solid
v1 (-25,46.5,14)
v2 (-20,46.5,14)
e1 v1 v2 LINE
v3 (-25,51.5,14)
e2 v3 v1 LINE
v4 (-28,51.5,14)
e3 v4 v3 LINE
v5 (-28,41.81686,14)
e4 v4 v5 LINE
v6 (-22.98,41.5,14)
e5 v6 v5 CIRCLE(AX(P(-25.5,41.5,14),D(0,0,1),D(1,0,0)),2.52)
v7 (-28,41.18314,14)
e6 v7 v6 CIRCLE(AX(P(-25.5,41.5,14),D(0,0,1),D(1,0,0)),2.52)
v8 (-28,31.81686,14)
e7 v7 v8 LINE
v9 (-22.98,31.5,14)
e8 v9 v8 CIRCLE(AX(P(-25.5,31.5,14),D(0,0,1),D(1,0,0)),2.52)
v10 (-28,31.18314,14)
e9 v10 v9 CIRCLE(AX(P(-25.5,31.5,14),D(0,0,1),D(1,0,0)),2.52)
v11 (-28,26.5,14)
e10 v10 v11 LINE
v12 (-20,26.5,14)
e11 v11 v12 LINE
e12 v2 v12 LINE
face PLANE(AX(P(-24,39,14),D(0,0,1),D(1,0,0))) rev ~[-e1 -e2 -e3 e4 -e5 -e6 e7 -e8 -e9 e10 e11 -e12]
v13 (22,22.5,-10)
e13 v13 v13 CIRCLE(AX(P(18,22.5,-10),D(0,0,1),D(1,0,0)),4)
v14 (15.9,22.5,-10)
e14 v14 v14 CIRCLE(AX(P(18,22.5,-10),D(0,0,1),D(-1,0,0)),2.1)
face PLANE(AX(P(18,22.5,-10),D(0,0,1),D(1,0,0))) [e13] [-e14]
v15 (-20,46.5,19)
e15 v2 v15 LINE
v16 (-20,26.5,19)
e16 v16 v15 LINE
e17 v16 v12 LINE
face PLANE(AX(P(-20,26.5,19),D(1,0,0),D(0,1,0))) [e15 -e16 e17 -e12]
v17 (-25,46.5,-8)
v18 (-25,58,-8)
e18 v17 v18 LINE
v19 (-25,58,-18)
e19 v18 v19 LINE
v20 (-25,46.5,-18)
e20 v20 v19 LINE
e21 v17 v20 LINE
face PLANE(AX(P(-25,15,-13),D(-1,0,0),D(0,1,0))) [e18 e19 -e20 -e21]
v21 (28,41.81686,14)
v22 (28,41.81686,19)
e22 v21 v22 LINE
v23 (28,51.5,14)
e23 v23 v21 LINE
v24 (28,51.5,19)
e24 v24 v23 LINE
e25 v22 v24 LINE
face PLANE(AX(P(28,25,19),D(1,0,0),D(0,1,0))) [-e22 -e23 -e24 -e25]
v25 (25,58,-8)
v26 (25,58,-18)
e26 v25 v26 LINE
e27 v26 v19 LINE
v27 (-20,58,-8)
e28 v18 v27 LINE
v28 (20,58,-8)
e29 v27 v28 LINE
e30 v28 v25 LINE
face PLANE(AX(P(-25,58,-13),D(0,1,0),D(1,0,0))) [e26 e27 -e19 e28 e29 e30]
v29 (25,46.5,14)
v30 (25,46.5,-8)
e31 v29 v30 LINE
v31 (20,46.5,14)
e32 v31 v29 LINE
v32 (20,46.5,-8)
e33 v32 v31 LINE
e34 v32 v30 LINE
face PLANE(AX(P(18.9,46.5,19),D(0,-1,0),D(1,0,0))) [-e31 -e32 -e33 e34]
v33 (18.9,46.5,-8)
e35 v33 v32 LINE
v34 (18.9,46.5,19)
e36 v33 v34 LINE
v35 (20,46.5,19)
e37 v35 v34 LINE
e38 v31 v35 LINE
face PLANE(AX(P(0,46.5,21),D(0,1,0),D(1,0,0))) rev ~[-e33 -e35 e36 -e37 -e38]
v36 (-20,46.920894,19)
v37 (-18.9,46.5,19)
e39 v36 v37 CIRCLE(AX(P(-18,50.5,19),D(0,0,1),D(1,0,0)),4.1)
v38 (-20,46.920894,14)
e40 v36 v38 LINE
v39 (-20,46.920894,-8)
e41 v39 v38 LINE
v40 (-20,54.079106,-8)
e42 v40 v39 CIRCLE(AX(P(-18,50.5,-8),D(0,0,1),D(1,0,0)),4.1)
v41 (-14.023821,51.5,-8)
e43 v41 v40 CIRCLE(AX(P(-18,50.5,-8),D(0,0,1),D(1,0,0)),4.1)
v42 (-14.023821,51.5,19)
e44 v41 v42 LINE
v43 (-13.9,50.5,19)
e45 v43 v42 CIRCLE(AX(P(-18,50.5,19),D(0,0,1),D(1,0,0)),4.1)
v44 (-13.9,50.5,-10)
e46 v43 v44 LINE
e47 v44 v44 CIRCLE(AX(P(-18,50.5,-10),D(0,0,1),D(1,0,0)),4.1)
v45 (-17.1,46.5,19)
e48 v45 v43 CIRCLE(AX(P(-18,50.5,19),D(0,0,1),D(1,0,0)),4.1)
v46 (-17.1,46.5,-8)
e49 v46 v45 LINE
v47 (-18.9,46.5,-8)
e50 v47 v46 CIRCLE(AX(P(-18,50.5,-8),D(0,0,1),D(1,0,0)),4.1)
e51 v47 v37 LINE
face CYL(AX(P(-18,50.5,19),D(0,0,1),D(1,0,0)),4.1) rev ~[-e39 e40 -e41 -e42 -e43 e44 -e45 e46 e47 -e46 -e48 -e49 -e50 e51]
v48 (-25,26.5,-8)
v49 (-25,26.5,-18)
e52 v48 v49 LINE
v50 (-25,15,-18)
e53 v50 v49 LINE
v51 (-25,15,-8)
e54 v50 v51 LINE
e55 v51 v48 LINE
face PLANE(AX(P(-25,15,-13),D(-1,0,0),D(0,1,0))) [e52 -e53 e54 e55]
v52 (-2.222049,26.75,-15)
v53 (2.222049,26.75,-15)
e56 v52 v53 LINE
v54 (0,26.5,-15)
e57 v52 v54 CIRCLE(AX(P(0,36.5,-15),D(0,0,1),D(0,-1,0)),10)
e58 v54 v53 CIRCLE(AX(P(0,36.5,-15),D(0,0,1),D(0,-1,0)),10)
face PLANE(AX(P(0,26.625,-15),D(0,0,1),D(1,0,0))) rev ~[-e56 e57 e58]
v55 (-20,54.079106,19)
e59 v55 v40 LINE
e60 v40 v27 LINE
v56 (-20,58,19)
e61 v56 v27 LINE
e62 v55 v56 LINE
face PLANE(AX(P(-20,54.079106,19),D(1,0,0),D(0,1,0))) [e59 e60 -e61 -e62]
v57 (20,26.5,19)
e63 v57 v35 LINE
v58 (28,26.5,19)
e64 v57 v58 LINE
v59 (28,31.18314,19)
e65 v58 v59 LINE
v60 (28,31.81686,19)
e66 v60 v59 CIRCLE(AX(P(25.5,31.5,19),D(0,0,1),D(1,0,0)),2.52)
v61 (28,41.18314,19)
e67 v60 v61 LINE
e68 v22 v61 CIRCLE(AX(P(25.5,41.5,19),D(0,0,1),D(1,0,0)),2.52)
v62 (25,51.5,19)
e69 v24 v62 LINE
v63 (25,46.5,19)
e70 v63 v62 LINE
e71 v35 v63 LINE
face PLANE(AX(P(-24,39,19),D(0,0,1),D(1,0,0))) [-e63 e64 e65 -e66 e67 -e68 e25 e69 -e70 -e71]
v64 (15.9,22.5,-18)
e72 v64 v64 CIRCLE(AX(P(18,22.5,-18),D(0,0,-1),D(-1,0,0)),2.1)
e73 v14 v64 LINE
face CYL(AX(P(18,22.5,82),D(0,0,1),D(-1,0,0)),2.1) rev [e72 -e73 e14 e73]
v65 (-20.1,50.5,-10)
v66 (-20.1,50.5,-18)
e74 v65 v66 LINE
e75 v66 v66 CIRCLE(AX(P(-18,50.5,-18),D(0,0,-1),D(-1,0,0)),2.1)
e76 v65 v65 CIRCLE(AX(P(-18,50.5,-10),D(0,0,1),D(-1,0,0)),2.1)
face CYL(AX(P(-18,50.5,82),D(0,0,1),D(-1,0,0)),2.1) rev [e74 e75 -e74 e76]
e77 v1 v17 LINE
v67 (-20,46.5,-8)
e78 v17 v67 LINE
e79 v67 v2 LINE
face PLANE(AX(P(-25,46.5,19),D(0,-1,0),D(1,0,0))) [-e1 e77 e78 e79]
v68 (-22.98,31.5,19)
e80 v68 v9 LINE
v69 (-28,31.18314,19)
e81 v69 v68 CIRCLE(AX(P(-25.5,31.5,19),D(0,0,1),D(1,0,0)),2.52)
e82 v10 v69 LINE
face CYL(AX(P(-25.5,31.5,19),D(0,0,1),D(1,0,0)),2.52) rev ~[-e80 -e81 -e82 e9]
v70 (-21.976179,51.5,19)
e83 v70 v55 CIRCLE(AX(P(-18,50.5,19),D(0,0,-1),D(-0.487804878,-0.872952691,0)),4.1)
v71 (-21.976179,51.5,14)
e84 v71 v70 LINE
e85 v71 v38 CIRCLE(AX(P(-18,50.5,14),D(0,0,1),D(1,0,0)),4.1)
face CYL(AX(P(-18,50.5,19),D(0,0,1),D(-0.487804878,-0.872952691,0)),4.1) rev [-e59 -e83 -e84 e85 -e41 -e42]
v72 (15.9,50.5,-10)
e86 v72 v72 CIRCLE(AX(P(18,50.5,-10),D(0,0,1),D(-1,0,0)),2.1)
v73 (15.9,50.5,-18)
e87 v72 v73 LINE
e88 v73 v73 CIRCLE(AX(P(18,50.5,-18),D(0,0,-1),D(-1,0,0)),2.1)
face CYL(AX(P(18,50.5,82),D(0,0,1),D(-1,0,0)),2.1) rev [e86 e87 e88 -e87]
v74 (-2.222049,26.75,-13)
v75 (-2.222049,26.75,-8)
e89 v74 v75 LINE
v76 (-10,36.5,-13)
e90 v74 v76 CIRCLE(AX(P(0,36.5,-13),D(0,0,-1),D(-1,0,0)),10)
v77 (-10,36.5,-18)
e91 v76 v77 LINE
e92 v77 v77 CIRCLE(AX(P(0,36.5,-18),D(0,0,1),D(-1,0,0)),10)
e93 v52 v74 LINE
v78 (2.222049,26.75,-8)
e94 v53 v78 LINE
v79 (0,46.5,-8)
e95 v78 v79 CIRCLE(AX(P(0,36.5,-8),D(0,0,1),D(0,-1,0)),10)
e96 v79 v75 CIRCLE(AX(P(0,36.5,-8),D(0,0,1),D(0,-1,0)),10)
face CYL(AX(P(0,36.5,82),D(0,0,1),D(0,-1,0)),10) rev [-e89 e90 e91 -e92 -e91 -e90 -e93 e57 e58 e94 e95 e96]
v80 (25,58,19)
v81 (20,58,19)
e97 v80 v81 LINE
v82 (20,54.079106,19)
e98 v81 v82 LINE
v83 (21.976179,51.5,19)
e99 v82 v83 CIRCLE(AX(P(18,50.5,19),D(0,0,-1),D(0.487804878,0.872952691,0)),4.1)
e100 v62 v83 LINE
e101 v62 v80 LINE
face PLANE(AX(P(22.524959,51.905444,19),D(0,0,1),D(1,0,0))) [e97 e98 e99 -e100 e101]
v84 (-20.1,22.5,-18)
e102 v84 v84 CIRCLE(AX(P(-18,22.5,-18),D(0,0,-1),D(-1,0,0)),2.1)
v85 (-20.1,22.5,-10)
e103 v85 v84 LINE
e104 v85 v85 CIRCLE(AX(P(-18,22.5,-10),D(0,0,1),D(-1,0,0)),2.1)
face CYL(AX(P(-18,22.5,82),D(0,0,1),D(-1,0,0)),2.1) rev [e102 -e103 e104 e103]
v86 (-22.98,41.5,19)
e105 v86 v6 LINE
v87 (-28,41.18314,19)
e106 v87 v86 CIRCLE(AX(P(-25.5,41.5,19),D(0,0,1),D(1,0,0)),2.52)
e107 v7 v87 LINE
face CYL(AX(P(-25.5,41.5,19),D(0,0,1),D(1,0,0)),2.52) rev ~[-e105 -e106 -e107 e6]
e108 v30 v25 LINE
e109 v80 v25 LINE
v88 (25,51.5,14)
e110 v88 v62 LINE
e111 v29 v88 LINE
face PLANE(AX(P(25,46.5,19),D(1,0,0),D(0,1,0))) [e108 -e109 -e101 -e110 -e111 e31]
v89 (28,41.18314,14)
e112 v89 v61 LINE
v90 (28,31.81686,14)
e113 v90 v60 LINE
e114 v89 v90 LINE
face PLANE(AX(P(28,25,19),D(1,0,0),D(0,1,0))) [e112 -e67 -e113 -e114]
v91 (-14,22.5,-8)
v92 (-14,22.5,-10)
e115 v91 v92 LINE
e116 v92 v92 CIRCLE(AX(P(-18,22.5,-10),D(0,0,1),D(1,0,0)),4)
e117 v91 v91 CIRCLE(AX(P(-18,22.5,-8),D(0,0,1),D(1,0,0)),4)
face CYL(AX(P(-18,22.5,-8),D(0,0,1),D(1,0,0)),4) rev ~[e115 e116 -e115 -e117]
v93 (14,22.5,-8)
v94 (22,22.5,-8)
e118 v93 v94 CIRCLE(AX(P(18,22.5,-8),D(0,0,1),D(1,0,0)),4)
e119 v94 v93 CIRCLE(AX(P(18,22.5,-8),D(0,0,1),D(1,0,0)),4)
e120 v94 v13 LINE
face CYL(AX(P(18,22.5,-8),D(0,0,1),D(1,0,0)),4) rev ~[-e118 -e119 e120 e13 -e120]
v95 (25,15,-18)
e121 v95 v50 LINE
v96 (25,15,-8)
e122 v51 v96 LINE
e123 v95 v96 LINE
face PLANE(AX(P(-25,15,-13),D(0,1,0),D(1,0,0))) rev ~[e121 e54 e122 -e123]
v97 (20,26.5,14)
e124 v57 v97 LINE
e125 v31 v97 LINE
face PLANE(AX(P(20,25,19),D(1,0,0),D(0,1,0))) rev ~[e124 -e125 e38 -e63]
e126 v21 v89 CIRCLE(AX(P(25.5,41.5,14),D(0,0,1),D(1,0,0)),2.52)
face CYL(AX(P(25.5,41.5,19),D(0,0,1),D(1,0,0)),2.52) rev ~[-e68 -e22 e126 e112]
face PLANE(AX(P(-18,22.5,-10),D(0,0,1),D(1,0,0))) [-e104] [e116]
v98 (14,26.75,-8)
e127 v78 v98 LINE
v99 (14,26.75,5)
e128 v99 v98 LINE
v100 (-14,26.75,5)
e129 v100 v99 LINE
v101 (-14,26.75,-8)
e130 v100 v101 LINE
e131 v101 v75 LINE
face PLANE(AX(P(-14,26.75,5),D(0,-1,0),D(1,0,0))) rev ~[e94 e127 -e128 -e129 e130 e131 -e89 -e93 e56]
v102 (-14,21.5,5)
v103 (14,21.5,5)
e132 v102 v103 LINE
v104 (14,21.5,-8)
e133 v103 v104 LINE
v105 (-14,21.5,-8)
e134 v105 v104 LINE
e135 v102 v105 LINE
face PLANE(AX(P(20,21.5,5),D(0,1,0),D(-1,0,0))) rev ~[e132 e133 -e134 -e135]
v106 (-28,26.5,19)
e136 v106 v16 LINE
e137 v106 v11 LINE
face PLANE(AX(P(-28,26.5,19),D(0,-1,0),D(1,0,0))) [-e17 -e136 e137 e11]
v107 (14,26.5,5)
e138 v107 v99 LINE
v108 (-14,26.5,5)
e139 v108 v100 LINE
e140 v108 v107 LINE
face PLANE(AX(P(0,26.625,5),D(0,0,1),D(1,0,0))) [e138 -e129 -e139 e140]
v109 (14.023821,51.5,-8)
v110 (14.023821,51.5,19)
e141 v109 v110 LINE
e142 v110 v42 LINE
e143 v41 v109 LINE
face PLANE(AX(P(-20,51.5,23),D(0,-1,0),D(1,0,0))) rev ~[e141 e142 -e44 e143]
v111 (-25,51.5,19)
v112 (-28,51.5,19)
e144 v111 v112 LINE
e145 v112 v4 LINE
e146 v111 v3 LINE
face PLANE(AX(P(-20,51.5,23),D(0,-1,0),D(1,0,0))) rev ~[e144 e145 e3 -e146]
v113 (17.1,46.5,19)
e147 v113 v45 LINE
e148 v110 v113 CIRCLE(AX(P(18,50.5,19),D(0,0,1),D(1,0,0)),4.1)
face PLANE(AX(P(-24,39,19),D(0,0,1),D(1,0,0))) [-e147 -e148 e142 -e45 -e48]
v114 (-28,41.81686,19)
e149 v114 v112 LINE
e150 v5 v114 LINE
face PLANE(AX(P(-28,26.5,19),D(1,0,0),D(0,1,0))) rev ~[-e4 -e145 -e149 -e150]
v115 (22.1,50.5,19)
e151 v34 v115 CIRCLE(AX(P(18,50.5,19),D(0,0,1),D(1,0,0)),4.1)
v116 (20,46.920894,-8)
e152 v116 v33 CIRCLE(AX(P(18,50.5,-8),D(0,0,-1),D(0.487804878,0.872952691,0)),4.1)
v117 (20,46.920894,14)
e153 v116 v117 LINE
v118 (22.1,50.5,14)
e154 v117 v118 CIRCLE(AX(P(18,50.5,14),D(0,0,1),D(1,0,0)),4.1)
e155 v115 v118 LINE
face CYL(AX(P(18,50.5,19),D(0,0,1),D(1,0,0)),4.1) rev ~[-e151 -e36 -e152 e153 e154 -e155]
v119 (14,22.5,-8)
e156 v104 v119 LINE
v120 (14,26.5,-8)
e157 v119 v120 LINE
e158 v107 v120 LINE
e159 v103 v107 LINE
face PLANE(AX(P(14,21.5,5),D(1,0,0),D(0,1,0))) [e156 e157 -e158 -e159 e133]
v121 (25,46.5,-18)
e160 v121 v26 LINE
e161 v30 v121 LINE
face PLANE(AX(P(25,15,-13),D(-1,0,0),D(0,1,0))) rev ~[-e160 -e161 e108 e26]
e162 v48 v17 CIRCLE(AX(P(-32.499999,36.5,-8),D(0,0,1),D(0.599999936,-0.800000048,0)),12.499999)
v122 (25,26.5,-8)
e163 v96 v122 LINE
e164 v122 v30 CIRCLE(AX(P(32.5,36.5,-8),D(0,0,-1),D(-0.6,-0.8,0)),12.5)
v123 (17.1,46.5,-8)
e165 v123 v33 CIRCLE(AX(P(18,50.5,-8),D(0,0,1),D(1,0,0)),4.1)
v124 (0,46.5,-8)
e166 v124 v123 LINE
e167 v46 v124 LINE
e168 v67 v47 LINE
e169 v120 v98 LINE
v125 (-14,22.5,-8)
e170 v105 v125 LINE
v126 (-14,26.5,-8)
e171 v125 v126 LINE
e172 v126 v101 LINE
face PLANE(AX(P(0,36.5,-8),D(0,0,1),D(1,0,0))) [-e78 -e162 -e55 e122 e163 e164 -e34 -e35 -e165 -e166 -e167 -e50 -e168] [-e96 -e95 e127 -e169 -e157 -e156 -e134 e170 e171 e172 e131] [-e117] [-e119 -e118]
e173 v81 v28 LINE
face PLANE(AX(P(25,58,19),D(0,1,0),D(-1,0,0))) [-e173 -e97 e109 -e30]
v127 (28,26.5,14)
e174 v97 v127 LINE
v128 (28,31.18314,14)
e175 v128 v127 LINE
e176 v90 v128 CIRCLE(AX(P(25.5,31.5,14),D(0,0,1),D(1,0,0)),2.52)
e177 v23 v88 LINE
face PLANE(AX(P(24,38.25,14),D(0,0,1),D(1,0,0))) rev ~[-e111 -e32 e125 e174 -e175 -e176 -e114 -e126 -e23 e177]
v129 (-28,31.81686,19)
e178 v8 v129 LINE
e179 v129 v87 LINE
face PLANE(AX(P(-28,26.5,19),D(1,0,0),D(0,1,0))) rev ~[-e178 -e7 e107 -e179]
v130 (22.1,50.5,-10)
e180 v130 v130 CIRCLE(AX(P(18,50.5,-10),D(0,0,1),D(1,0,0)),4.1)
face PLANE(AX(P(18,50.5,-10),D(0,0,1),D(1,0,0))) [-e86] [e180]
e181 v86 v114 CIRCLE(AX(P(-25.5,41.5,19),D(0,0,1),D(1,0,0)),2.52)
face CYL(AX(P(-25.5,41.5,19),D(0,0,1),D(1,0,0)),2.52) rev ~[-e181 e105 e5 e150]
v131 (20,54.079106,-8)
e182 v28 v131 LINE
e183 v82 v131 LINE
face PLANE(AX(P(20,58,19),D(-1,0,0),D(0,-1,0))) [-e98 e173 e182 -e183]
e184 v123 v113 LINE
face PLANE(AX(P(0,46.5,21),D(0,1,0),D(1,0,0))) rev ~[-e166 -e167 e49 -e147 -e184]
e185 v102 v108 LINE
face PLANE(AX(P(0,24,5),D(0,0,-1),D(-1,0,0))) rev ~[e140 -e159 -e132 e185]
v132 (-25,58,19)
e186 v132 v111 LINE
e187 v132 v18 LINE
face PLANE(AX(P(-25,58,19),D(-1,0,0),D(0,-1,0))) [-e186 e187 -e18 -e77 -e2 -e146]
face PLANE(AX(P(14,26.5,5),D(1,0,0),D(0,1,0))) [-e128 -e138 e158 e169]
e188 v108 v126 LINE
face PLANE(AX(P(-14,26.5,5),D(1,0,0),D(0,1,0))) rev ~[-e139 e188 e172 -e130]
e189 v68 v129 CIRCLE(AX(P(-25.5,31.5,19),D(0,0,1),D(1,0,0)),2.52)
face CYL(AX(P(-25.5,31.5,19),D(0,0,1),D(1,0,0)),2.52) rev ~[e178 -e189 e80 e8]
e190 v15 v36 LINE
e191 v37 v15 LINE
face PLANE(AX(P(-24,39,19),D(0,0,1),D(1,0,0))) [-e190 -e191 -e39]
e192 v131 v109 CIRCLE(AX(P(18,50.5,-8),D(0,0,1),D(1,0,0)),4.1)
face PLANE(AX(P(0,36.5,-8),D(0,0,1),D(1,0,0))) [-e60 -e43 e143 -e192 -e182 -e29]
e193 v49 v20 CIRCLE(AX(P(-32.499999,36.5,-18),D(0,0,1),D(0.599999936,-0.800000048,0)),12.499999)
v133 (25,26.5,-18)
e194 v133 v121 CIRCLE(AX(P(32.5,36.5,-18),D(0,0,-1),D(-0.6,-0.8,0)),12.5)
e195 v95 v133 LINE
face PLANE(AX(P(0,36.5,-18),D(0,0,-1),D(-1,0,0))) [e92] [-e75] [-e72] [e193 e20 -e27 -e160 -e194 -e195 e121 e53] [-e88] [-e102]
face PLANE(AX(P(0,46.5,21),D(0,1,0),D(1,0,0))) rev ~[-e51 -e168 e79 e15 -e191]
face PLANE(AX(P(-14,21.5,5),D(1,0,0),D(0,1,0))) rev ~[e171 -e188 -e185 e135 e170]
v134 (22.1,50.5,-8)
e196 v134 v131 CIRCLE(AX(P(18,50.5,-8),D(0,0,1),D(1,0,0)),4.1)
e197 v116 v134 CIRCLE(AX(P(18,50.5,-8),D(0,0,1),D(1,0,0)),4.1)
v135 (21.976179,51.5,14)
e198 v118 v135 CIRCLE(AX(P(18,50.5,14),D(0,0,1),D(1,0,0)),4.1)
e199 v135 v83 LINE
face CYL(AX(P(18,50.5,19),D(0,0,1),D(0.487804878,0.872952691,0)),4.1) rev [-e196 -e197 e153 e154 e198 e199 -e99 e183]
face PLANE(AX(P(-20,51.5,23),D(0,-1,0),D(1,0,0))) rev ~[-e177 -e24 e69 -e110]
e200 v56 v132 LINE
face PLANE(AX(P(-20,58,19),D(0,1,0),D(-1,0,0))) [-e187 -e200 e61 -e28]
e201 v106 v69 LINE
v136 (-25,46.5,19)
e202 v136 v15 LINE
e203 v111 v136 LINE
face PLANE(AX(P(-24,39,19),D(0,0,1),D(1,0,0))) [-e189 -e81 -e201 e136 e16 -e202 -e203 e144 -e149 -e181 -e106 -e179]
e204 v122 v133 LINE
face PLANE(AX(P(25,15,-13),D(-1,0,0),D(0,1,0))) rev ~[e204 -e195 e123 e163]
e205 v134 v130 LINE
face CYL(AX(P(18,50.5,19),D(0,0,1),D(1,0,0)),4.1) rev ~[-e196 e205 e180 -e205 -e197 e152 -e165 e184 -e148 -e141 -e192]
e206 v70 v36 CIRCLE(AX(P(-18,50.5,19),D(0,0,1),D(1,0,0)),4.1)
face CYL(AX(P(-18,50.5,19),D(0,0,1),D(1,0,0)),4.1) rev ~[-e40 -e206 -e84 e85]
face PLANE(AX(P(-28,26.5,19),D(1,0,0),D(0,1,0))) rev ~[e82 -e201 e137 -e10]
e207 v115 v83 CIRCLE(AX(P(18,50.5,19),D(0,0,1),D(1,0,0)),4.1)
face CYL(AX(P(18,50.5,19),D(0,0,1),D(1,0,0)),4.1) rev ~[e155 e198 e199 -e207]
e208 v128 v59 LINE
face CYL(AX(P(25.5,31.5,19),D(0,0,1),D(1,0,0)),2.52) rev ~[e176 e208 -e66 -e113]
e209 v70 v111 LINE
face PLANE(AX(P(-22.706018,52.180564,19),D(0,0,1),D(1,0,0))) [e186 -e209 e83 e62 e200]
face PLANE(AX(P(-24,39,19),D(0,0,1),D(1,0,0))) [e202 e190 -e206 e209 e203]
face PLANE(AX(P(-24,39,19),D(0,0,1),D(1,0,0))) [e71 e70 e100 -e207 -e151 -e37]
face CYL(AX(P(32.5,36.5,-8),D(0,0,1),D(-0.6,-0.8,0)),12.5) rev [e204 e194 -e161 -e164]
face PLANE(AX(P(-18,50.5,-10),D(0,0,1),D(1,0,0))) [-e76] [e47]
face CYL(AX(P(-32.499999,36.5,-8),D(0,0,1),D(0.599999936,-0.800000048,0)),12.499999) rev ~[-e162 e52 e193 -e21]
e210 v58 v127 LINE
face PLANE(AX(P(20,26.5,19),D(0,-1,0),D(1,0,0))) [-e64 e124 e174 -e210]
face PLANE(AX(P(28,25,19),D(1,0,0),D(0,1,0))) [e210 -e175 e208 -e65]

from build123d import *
from build123d.topology import SkipClean

# Parameters (mm, degrees)
SKETCH_1_R           = 2
EXTRUDE_1_DEPTH      = 5
EXTRUDE_5_DEPTH      = 18
SKETCH_6_W           = 40
SKETCH_6_H           = 5
EXTRUDE_6_DEPTH      = 25
SKETCH_7_W           = 40
SKETCH_7_H           = 5
EXTRUDE_7_DEPTH      = 27
SKETCH_9_R           = 10
CUT_EXTRUDE_4_DEPTH  = 50
SKETCH_10_W          = 8
SKETCH_10_H          = 5
EXTRUDE_9_DEPTH      = 20
CUT_EXTRUDE_8_DEPTH  = 20
CUT_EXTRUDE_9_DEPTH  = 20
SKETCH_16_W          = 40
SKETCH_16_H          = 4
EXTRUDE_10_DEPTH     = 5
SKETCH_17_W          = 40
SKETCH_17_H          = 4
EXTRUDE_12_DEPTH     = 12
SKETCH_18_R          = 1.5
CUT_EXTRUDE_10_DEPTH = 10
CUT_EXTRUDE_11_DEPTH = 10
SKETCH_22_W          = 39.912411086
SKETCH_22_H          = 12
CUT_EXTRUDE_12_DEPTH = 10
SKETCH_23_W          = 1.771441315
SKETCH_23_H          = 1.605869394
CUT_EXTRUDE_13_DEPTH = 10
SKETCH_24_W          = 40
SKETCH_24_H          = 4
EXTRUDE_13_DEPTH     = 7
SKETCH_26_R          = 1.5
CUT_EXTRUDE_14_DEPTH = 7
SKETCH_27_W          = 8
SKETCH_27_H          = 26.5
EXTRUDE_14_DEPTH     = 5
SKETCH_28_W          = 8
SKETCH_28_H          = 25
EXTRUDE_15_DEPTH     = 5
SKETCH_30_W          = 8
SKETCH_30_H          = 1.5
CUT_EXTRUDE_15_DEPTH = 5
SKETCH_31_R          = 2.52
CUT_EXTRUDE_16_DEPTH = 5
SKETCH_32_R          = 2.52
CUT_EXTRUDE_17_DEPTH = 5
CUT_EXTRUDE_18_DEPTH = 5
SKETCH_2_R           = 4
CUT_EXTRUDE_19_DEPTH = 3
SKETCH_35_W          = 4
SKETCH_35_H          = 12
CUT_EXTRUDE_20_DEPTH = 100
SKETCH_37_W          = 50
SKETCH_37_H          = 43
CUT_EXTRUDE_21_DEPTH = 100
SKETCH_38_W          = 50
SKETCH_38_H          = 43
SKETCH_38_R          = 10
EXTRUDE_20_DEPTH     = 5
SKETCH_39_W          = 50
SKETCH_39_H          = 43
SKETCH_39_W_2        = 40
SKETCH_39_H_2        = 30
EXTRUDE_21_DEPTH     = 5
CUT_EXTRUDE_START    = -100
SKETCH_41_R          = 2.1
SKETCH_41_R_2        = 10
CUT_EXTRUDE_23_DEPTH = 100
SKETCH_42_W          = 6
SKETCH_42_H          = 5
CUT_EXTRUDE_24_DEPTH = 13
SKETCH_43_R          = 4.1
CUT_EXTRUDE_27_DEPTH = 29
EXTRUDE_START        = 27
EXTRUDE_22_DEPTH     = 27
EXTRUDE_23_DEPTH     = 27
SKETCH_46_W          = 28
SKETCH_46_H          = 0.25
EXTRUDE_24_DEPTH     = 20
SKETCH_47_R          = 4
CUT_EXTRUDE_28_DEPTH = 2
CUT_EXTRUDE_29_DEPTH = 10
CUT_EXTRUDE_30_DEPTH = 10


with BuildPart() as part:
    # 草图1 → 凸台-拉伸1 (new body)
    with BuildSketch(Plane.XY):
        Polygon((0, 21.5), (25, 21.5), (25, -21.5), (-25, -21.5), (-25, 21.5), align=None)
        with Locations((-18, 14)):
            Circle(SKETCH_1_R, mode=Mode.SUBTRACT)
        with Locations((-18, -14)):
            Circle(SKETCH_1_R, mode=Mode.SUBTRACT)
        with Locations((18, -14)):
            Circle(SKETCH_1_R, mode=Mode.SUBTRACT)
        with Locations((18, 14)):
            Circle(SKETCH_1_R, mode=Mode.SUBTRACT)
    extrude(amount=EXTRUDE_1_DEPTH)

    # 草图5 → 凸台-拉伸5 (add)
    with BuildSketch(Plane.XY.offset(5)):
        Polygon((0, 26.5), (20, 26.5), (20, 21.5), (-20, 21.5), (-20, 26.5), align=None)
    extrude(amount=-EXTRUDE_5_DEPTH)

    # 草图6 → 凸台-拉伸6 (add)
    with BuildSketch(Plane(origin=(0, 26.5, 0), x_dir=(1, 0, 0), z_dir=(0, 1, 0))):
        with Locations((0, 10.5)):
            Rectangle(SKETCH_6_W, SKETCH_6_H)
    extrude(amount=EXTRUDE_6_DEPTH)

    # 草图7 → 凸台-拉伸7 (add)
    with BuildSketch(Plane.XY.offset(-8)):
        with Locations((0, 49)):
            Rectangle(SKETCH_7_W, SKETCH_7_H)
    extrude(amount=EXTRUDE_7_DEPTH)

    # 草图9 → 切除-拉伸4 (cut)
    with BuildSketch(Plane(origin=(0, 0, 0), x_dir=(-1, 0, 0), z_dir=(0, 0, -1))):
        Circle(SKETCH_9_R)
    extrude(amount=-CUT_EXTRUDE_4_DEPTH, mode=Mode.SUBTRACT)

    # 草图10 → 凸台-拉伸9 (add)
    with BuildSketch(Plane(origin=(0, 51.5, 0), x_dir=(1, 0, 0), z_dir=(0, 1, 0))):
        with Locations((-24, -16.5)):
            Rectangle(SKETCH_10_W, SKETCH_10_H)
        with Locations((24, -16.5)):
            Rectangle(SKETCH_10_W, SKETCH_10_H)
    extrude(amount=-EXTRUDE_9_DEPTH)

    # 草图12 → 切除-拉伸8 (cut)
    with BuildSketch(Plane(origin=(0, 0, 14), x_dir=(-1, 0, 0), z_dir=(0, 0, -1))):
        with BuildLine():
            Line((28, 46), (28, 47))
            Line((28, 47), (27.949489743, 47))
            ThreePointArc((27.949489743, 47), (23, 46.5), (27.949489743, 46))
            Line((27.949489743, 46), (28, 46))
        make_face()
        with BuildLine():
            Line((27.949489743, 36), (28, 36))
            Line((28, 36), (28, 37))
            Line((28, 37), (27.949489743, 37))
            ThreePointArc((27.949489743, 37), (23, 36.5), (27.949489743, 36))
        make_face()
    extrude(amount=-CUT_EXTRUDE_8_DEPTH, mode=Mode.SUBTRACT)

    # 草图15 → 切除-拉伸9 (cut)
    with BuildSketch(Plane(origin=(0, 0, 14), x_dir=(-1, 0, 0), z_dir=(0, 0, -1))):
        with BuildLine():
            ThreePointArc((-27.949489743, 46), (-23, 46.5), (-27.949489743, 47))
            Line((-27.949489743, 47), (-28, 47))
            Line((-28, 47), (-28, 46))
            Line((-28, 46), (-27.949489743, 46))
        make_face()
        with BuildLine():
            Line((-27.949489743, 37), (-28, 37))
            Line((-28, 37), (-28, 36))
            Line((-28, 36), (-27.949489743, 36))
            ThreePointArc((-27.949489743, 36), (-23, 36.5), (-27.949489743, 37))
        make_face()
    extrude(amount=-CUT_EXTRUDE_9_DEPTH, mode=Mode.SUBTRACT)

    # 草图16 → 凸台-拉伸10 (add)
    with BuildSketch(Plane(origin=(0, 51.5, 0), x_dir=(1, 0, 0), z_dir=(0, 1, 0))):
        with Locations((0, -21)):
            Rectangle(SKETCH_16_W, SKETCH_16_H)
    extrude(amount=-EXTRUDE_10_DEPTH)

    # 草图17 → 凸台-拉伸12 (add)
    with BuildSketch(Plane(origin=(0, 51.5, 0), x_dir=(1, 0, 0), z_dir=(0, 1, 0))):
        with Locations((0, -21)):
            Rectangle(SKETCH_17_W, SKETCH_17_H)
    extrude(amount=EXTRUDE_12_DEPTH)

    # 草图18 → 切除-拉伸10 (cut)
    with BuildSketch(Plane(origin=(0, 0, 19), x_dir=(-1, 0, 0), z_dir=(0, 0, -1))):
        with Locations((6, 59.5)):
            Circle(SKETCH_18_R)
        with Locations((13, 59.5)):
            Circle(SKETCH_18_R)
    extrude(amount=-CUT_EXTRUDE_10_DEPTH, mode=Mode.SUBTRACT)

    # 草图20 → 切除-拉伸11 (cut)
    with BuildSketch(Plane.XY.offset(23)):
        with BuildLine():
            ThreePointArc((8, 63.5), (16.485281374, 59.985281374), (20, 51.5))
            Line((20, 51.5), (20, 63.5))
            Line((20, 63.5), (8, 63.5))
        make_face()
    extrude(amount=-CUT_EXTRUDE_11_DEPTH, mode=Mode.SUBTRACT)

    # 草图22 → 切除-拉伸12 (cut)
    with BuildSketch(Plane.XY.offset(23)):
        with Locations((-0.043794457, 57.5)):
            Rectangle(SKETCH_22_W, SKETCH_22_H)
    extrude(amount=-CUT_EXTRUDE_12_DEPTH, mode=Mode.SUBTRACT)

    # 草图23 → 切除-拉伸13 (cut)
    with BuildSketch(Plane.XY.offset(23)):
        with Locations((20.269466875, 52.302934697)):
            Rectangle(SKETCH_23_W, SKETCH_23_H)
    extrude(amount=-CUT_EXTRUDE_13_DEPTH, mode=Mode.SUBTRACT)

    # 草图24 → 凸台-拉伸13 (add)
    with BuildSketch(Plane(origin=(0, 51.5, 0), x_dir=(1, 0, 0), z_dir=(0, 1, 0))):
        with Locations((0, -21)):
            Rectangle(SKETCH_24_W, SKETCH_24_H)
    extrude(amount=EXTRUDE_13_DEPTH)

    # 草图26 → 切除-拉伸14 (cut)
    with BuildSketch(Plane.XY.offset(23)):
        with Locations((-13, 54.5)):
            Circle(SKETCH_26_R)
        with Locations((-6, 54.5)):
            Circle(SKETCH_26_R)
    extrude(amount=-CUT_EXTRUDE_14_DEPTH, mode=Mode.SUBTRACT)

    # 草图27 → 凸台-拉伸14 (add)
    with BuildSketch(Plane.XY.offset(19)):
        with Locations((24, 38.25)):
            Rectangle(SKETCH_27_W, SKETCH_27_H)
    extrude(amount=-EXTRUDE_14_DEPTH)

    # 草图28 → 凸台-拉伸15 (add)
    with BuildSketch(Plane.XY.offset(19)):
        with Locations((-24, 39)):
            Rectangle(SKETCH_28_W, SKETCH_28_H)
    extrude(amount=-EXTRUDE_15_DEPTH)

    # 草图30 → 切除-拉伸15 (cut)
    with BuildSketch(Plane.XY.offset(19)):
        with Locations((24, 25.75)):
            Rectangle(SKETCH_30_W, SKETCH_30_H)
    extrude(amount=-CUT_EXTRUDE_15_DEPTH, mode=Mode.SUBTRACT)

    # 草图31 → 切除-拉伸16 (cut)
    with BuildSketch(Plane.XY.offset(19)):
        with Locations((25.5, 41.5)):
            Circle(SKETCH_31_R)
        with Locations((25.5, 31.5)):
            Circle(SKETCH_31_R)
    extrude(amount=-CUT_EXTRUDE_16_DEPTH, mode=Mode.SUBTRACT)

    # 草图32 → 切除-拉伸17 (cut)
    with BuildSketch(Plane.XY.offset(19)):
        with Locations((-25.5, 41.5)):
            Circle(SKETCH_32_R)
        with Locations((-25.5, 31.5)):
            Circle(SKETCH_32_R)
    extrude(amount=-CUT_EXTRUDE_17_DEPTH, mode=Mode.SUBTRACT)

    # 草图33 → 切除-拉伸18 (cut)
    with BuildSketch(Plane(origin=(0, 0, 19), x_dir=(-1, 0, 0), z_dir=(0, 0, -1))):
        with BuildLine():
            Line((-20, 58.5), (-20, 51.5))
            ThreePointArc((-20, 51.5), (-17.949747468, 56.449747468), (-13, 58.5))
            Line((-13, 58.5), (-20, 58.5))
        make_face()
        with BuildLine():
            Line((20, 58.5), (13, 58.5))
            ThreePointArc((13, 58.5), (17.949747468, 56.449747468), (20, 51.5))
            Line((20, 51.5), (20, 58.5))
        make_face()
    extrude(amount=-CUT_EXTRUDE_18_DEPTH, mode=Mode.SUBTRACT)

    # 草图2 → 切除-拉伸19 (cut)
    with BuildSketch(Plane.XY.offset(5)):
        with Locations((18, 14)):
            Circle(SKETCH_2_R)
        with Locations((-18, 14)):
            Circle(SKETCH_2_R)
        with Locations((-18, -14)):
            Circle(SKETCH_2_R)
        with Locations((18, -14)):
            Circle(SKETCH_2_R)
    extrude(amount=-CUT_EXTRUDE_19_DEPTH, mode=Mode.SUBTRACT)

    # 草图35 → 切除-拉伸20 (cut)
    with BuildSketch(Plane.ZY.offset(20)):
        with Locations((21, 52.5)):
            Rectangle(SKETCH_35_W, SKETCH_35_H)
    extrude(amount=-CUT_EXTRUDE_20_DEPTH, mode=Mode.SUBTRACT)

    # 草图37 → 切除-拉伸21 (cut)
    with BuildSketch(Plane.XY.offset(5)):
        Rectangle(SKETCH_37_W, SKETCH_37_H)
    extrude(amount=-CUT_EXTRUDE_21_DEPTH, mode=Mode.SUBTRACT)

    # 草图38 → 凸台-拉伸20 (add)
    with BuildSketch(Plane(origin=(0, 0, -13), x_dir=(-1, 0, 0), z_dir=(0, 0, -1))):
        with Locations((0, 36.5)):
            Rectangle(SKETCH_38_W, SKETCH_38_H)
        with Locations((0, 36.5)):
            Circle(SKETCH_38_R, mode=Mode.SUBTRACT)
    extrude(amount=EXTRUDE_20_DEPTH)

    # 草图39 → 凸台-拉伸21 (add)
    with BuildSketch(Plane.XY.offset(-13)):
        with Locations((0, 36.5)):
            Rectangle(SKETCH_39_W, SKETCH_39_H)
        with Locations((0, 36.5)):
            Rectangle(SKETCH_39_W_2, SKETCH_39_H_2, mode=Mode.SUBTRACT)
    extrude(amount=EXTRUDE_21_DEPTH)

    # 草图41 → 切除-拉伸23 (cut)
    with BuildSketch(Plane(origin=(0, 0, -18), x_dir=(-1, 0, 0), z_dir=(0, 0, -1)).offset(CUT_EXTRUDE_START)):
        with Locations((-18, 50.5)):
            Circle(SKETCH_41_R)
        with Locations((18, 50.5)):
            Circle(SKETCH_41_R)
        with Locations((18, 22.5)):
            Circle(SKETCH_41_R)
        with Locations((-18, 22.5)):
            Circle(SKETCH_41_R)
        with Locations(Location((0, 36.5, 0), (0, 0, 270))):
            Circle(SKETCH_41_R_2)
    extrude(amount=CUT_EXTRUDE_23_DEPTH, mode=Mode.SUBTRACT)

    # 草图42 → 切除-拉伸24 (cut)
    with BuildSketch(Plane.XY.offset(5)):
        with Locations((-17, 24)):
            Rectangle(SKETCH_42_W, SKETCH_42_H)
        with Locations((17, 24)):
            Rectangle(SKETCH_42_W, SKETCH_42_H)
    extrude(amount=-CUT_EXTRUDE_24_DEPTH, mode=Mode.SUBTRACT)

    # 草图43 → 切除-拉伸27 (cut)
    with BuildSketch(Plane.XY.offset(19)):
        with Locations((-18, 50.5)):
            Circle(SKETCH_43_R)
        with Locations((18, 50.5)):
            Circle(SKETCH_43_R)
    extrude(amount=-CUT_EXTRUDE_27_DEPTH, mode=Mode.SUBTRACT)

    # 草图44 → 凸台-拉伸22 (add)
    with SkipClean():  # the faces are left unmerged after this step: merging them gives an invalid solid
        with BuildSketch(Plane.XY.offset(-8).offset(EXTRUDE_START)):
            with BuildLine():
                Line((-25, 46.5), (-20, 46.5))
                Line((-20, 46.5), (-20, 46.920893966))
                ThreePointArc((-20, 46.920893966), (-22.1, 50.5), (-20, 54.079106034))
                Line((-20, 54.079106034), (-20, 58))
                Line((-20, 58), (-25, 58))
                Line((-25, 58), (-25, 46.5))
            make_face()
        extrude(amount=-EXTRUDE_22_DEPTH)

    # 草图45 → 凸台-拉伸23 (add)
    with SkipClean():  # the faces are left unmerged after this step: merging them gives an invalid solid
        with BuildSketch(Plane.XY.offset(-8).offset(EXTRUDE_START)):
            with BuildLine():
                Line((18.9, 46.5), (25, 46.5))
                Line((25, 46.5), (25, 58))
                Line((25, 58), (20, 58))
                Line((20, 58), (20, 54.079106034))
                ThreePointArc((20, 54.079106034), (22.057488307, 49.911112372), (18.9, 46.5))
            make_face()
        extrude(amount=-EXTRUDE_23_DEPTH)

    # 草图46 → 凸台-拉伸24 (add)
    with SkipClean():  # the faces are left unmerged after this step: merging them gives an invalid solid
        with BuildSketch(Plane.XY.offset(5)):
            with Locations((0, 26.625)):
                Rectangle(SKETCH_46_W, SKETCH_46_H)
        extrude(amount=-EXTRUDE_24_DEPTH)

    # 草图47 → 切除-拉伸28 (cut)
    with SkipClean():  # the faces are left unmerged after this step: merging them gives an invalid solid
        with BuildSketch(Plane.XY.offset(-8)):
            with Locations((-18, 22.5)):
                Circle(SKETCH_47_R)
            with Locations((18, 22.5)):
                Circle(SKETCH_47_R)
        extrude(amount=-CUT_EXTRUDE_28_DEPTH, mode=Mode.SUBTRACT)

    # 草图48 → 切除-拉伸29 (cut)
    with SkipClean():  # the faces are left unmerged after this step: merging them gives an invalid solid
        with BuildSketch(Plane.XY.offset(-8)):
            with BuildLine():
                Line((-25, 46.5), (-25, 26.5))
                ThreePointArc((-25, 26.5), (-19.999999498, 36.5), (-25, 46.5))
            make_face()
        extrude(amount=-CUT_EXTRUDE_29_DEPTH, mode=Mode.SUBTRACT)

    # 草图49 → 切除-拉伸30 (cut)
    with SkipClean():  # the faces are left unmerged after this step: merging them gives an invalid solid
        with BuildSketch(Plane.XY.offset(-8)):
            with BuildLine():
                Line((25, 46.5), (25, 26.5))
                ThreePointArc((25, 26.5), (20, 36.5), (25, 46.5))
            make_face()
        extrude(amount=-CUT_EXTRUDE_30_DEPTH, mode=Mode.SUBTRACT)


solid = part.part
